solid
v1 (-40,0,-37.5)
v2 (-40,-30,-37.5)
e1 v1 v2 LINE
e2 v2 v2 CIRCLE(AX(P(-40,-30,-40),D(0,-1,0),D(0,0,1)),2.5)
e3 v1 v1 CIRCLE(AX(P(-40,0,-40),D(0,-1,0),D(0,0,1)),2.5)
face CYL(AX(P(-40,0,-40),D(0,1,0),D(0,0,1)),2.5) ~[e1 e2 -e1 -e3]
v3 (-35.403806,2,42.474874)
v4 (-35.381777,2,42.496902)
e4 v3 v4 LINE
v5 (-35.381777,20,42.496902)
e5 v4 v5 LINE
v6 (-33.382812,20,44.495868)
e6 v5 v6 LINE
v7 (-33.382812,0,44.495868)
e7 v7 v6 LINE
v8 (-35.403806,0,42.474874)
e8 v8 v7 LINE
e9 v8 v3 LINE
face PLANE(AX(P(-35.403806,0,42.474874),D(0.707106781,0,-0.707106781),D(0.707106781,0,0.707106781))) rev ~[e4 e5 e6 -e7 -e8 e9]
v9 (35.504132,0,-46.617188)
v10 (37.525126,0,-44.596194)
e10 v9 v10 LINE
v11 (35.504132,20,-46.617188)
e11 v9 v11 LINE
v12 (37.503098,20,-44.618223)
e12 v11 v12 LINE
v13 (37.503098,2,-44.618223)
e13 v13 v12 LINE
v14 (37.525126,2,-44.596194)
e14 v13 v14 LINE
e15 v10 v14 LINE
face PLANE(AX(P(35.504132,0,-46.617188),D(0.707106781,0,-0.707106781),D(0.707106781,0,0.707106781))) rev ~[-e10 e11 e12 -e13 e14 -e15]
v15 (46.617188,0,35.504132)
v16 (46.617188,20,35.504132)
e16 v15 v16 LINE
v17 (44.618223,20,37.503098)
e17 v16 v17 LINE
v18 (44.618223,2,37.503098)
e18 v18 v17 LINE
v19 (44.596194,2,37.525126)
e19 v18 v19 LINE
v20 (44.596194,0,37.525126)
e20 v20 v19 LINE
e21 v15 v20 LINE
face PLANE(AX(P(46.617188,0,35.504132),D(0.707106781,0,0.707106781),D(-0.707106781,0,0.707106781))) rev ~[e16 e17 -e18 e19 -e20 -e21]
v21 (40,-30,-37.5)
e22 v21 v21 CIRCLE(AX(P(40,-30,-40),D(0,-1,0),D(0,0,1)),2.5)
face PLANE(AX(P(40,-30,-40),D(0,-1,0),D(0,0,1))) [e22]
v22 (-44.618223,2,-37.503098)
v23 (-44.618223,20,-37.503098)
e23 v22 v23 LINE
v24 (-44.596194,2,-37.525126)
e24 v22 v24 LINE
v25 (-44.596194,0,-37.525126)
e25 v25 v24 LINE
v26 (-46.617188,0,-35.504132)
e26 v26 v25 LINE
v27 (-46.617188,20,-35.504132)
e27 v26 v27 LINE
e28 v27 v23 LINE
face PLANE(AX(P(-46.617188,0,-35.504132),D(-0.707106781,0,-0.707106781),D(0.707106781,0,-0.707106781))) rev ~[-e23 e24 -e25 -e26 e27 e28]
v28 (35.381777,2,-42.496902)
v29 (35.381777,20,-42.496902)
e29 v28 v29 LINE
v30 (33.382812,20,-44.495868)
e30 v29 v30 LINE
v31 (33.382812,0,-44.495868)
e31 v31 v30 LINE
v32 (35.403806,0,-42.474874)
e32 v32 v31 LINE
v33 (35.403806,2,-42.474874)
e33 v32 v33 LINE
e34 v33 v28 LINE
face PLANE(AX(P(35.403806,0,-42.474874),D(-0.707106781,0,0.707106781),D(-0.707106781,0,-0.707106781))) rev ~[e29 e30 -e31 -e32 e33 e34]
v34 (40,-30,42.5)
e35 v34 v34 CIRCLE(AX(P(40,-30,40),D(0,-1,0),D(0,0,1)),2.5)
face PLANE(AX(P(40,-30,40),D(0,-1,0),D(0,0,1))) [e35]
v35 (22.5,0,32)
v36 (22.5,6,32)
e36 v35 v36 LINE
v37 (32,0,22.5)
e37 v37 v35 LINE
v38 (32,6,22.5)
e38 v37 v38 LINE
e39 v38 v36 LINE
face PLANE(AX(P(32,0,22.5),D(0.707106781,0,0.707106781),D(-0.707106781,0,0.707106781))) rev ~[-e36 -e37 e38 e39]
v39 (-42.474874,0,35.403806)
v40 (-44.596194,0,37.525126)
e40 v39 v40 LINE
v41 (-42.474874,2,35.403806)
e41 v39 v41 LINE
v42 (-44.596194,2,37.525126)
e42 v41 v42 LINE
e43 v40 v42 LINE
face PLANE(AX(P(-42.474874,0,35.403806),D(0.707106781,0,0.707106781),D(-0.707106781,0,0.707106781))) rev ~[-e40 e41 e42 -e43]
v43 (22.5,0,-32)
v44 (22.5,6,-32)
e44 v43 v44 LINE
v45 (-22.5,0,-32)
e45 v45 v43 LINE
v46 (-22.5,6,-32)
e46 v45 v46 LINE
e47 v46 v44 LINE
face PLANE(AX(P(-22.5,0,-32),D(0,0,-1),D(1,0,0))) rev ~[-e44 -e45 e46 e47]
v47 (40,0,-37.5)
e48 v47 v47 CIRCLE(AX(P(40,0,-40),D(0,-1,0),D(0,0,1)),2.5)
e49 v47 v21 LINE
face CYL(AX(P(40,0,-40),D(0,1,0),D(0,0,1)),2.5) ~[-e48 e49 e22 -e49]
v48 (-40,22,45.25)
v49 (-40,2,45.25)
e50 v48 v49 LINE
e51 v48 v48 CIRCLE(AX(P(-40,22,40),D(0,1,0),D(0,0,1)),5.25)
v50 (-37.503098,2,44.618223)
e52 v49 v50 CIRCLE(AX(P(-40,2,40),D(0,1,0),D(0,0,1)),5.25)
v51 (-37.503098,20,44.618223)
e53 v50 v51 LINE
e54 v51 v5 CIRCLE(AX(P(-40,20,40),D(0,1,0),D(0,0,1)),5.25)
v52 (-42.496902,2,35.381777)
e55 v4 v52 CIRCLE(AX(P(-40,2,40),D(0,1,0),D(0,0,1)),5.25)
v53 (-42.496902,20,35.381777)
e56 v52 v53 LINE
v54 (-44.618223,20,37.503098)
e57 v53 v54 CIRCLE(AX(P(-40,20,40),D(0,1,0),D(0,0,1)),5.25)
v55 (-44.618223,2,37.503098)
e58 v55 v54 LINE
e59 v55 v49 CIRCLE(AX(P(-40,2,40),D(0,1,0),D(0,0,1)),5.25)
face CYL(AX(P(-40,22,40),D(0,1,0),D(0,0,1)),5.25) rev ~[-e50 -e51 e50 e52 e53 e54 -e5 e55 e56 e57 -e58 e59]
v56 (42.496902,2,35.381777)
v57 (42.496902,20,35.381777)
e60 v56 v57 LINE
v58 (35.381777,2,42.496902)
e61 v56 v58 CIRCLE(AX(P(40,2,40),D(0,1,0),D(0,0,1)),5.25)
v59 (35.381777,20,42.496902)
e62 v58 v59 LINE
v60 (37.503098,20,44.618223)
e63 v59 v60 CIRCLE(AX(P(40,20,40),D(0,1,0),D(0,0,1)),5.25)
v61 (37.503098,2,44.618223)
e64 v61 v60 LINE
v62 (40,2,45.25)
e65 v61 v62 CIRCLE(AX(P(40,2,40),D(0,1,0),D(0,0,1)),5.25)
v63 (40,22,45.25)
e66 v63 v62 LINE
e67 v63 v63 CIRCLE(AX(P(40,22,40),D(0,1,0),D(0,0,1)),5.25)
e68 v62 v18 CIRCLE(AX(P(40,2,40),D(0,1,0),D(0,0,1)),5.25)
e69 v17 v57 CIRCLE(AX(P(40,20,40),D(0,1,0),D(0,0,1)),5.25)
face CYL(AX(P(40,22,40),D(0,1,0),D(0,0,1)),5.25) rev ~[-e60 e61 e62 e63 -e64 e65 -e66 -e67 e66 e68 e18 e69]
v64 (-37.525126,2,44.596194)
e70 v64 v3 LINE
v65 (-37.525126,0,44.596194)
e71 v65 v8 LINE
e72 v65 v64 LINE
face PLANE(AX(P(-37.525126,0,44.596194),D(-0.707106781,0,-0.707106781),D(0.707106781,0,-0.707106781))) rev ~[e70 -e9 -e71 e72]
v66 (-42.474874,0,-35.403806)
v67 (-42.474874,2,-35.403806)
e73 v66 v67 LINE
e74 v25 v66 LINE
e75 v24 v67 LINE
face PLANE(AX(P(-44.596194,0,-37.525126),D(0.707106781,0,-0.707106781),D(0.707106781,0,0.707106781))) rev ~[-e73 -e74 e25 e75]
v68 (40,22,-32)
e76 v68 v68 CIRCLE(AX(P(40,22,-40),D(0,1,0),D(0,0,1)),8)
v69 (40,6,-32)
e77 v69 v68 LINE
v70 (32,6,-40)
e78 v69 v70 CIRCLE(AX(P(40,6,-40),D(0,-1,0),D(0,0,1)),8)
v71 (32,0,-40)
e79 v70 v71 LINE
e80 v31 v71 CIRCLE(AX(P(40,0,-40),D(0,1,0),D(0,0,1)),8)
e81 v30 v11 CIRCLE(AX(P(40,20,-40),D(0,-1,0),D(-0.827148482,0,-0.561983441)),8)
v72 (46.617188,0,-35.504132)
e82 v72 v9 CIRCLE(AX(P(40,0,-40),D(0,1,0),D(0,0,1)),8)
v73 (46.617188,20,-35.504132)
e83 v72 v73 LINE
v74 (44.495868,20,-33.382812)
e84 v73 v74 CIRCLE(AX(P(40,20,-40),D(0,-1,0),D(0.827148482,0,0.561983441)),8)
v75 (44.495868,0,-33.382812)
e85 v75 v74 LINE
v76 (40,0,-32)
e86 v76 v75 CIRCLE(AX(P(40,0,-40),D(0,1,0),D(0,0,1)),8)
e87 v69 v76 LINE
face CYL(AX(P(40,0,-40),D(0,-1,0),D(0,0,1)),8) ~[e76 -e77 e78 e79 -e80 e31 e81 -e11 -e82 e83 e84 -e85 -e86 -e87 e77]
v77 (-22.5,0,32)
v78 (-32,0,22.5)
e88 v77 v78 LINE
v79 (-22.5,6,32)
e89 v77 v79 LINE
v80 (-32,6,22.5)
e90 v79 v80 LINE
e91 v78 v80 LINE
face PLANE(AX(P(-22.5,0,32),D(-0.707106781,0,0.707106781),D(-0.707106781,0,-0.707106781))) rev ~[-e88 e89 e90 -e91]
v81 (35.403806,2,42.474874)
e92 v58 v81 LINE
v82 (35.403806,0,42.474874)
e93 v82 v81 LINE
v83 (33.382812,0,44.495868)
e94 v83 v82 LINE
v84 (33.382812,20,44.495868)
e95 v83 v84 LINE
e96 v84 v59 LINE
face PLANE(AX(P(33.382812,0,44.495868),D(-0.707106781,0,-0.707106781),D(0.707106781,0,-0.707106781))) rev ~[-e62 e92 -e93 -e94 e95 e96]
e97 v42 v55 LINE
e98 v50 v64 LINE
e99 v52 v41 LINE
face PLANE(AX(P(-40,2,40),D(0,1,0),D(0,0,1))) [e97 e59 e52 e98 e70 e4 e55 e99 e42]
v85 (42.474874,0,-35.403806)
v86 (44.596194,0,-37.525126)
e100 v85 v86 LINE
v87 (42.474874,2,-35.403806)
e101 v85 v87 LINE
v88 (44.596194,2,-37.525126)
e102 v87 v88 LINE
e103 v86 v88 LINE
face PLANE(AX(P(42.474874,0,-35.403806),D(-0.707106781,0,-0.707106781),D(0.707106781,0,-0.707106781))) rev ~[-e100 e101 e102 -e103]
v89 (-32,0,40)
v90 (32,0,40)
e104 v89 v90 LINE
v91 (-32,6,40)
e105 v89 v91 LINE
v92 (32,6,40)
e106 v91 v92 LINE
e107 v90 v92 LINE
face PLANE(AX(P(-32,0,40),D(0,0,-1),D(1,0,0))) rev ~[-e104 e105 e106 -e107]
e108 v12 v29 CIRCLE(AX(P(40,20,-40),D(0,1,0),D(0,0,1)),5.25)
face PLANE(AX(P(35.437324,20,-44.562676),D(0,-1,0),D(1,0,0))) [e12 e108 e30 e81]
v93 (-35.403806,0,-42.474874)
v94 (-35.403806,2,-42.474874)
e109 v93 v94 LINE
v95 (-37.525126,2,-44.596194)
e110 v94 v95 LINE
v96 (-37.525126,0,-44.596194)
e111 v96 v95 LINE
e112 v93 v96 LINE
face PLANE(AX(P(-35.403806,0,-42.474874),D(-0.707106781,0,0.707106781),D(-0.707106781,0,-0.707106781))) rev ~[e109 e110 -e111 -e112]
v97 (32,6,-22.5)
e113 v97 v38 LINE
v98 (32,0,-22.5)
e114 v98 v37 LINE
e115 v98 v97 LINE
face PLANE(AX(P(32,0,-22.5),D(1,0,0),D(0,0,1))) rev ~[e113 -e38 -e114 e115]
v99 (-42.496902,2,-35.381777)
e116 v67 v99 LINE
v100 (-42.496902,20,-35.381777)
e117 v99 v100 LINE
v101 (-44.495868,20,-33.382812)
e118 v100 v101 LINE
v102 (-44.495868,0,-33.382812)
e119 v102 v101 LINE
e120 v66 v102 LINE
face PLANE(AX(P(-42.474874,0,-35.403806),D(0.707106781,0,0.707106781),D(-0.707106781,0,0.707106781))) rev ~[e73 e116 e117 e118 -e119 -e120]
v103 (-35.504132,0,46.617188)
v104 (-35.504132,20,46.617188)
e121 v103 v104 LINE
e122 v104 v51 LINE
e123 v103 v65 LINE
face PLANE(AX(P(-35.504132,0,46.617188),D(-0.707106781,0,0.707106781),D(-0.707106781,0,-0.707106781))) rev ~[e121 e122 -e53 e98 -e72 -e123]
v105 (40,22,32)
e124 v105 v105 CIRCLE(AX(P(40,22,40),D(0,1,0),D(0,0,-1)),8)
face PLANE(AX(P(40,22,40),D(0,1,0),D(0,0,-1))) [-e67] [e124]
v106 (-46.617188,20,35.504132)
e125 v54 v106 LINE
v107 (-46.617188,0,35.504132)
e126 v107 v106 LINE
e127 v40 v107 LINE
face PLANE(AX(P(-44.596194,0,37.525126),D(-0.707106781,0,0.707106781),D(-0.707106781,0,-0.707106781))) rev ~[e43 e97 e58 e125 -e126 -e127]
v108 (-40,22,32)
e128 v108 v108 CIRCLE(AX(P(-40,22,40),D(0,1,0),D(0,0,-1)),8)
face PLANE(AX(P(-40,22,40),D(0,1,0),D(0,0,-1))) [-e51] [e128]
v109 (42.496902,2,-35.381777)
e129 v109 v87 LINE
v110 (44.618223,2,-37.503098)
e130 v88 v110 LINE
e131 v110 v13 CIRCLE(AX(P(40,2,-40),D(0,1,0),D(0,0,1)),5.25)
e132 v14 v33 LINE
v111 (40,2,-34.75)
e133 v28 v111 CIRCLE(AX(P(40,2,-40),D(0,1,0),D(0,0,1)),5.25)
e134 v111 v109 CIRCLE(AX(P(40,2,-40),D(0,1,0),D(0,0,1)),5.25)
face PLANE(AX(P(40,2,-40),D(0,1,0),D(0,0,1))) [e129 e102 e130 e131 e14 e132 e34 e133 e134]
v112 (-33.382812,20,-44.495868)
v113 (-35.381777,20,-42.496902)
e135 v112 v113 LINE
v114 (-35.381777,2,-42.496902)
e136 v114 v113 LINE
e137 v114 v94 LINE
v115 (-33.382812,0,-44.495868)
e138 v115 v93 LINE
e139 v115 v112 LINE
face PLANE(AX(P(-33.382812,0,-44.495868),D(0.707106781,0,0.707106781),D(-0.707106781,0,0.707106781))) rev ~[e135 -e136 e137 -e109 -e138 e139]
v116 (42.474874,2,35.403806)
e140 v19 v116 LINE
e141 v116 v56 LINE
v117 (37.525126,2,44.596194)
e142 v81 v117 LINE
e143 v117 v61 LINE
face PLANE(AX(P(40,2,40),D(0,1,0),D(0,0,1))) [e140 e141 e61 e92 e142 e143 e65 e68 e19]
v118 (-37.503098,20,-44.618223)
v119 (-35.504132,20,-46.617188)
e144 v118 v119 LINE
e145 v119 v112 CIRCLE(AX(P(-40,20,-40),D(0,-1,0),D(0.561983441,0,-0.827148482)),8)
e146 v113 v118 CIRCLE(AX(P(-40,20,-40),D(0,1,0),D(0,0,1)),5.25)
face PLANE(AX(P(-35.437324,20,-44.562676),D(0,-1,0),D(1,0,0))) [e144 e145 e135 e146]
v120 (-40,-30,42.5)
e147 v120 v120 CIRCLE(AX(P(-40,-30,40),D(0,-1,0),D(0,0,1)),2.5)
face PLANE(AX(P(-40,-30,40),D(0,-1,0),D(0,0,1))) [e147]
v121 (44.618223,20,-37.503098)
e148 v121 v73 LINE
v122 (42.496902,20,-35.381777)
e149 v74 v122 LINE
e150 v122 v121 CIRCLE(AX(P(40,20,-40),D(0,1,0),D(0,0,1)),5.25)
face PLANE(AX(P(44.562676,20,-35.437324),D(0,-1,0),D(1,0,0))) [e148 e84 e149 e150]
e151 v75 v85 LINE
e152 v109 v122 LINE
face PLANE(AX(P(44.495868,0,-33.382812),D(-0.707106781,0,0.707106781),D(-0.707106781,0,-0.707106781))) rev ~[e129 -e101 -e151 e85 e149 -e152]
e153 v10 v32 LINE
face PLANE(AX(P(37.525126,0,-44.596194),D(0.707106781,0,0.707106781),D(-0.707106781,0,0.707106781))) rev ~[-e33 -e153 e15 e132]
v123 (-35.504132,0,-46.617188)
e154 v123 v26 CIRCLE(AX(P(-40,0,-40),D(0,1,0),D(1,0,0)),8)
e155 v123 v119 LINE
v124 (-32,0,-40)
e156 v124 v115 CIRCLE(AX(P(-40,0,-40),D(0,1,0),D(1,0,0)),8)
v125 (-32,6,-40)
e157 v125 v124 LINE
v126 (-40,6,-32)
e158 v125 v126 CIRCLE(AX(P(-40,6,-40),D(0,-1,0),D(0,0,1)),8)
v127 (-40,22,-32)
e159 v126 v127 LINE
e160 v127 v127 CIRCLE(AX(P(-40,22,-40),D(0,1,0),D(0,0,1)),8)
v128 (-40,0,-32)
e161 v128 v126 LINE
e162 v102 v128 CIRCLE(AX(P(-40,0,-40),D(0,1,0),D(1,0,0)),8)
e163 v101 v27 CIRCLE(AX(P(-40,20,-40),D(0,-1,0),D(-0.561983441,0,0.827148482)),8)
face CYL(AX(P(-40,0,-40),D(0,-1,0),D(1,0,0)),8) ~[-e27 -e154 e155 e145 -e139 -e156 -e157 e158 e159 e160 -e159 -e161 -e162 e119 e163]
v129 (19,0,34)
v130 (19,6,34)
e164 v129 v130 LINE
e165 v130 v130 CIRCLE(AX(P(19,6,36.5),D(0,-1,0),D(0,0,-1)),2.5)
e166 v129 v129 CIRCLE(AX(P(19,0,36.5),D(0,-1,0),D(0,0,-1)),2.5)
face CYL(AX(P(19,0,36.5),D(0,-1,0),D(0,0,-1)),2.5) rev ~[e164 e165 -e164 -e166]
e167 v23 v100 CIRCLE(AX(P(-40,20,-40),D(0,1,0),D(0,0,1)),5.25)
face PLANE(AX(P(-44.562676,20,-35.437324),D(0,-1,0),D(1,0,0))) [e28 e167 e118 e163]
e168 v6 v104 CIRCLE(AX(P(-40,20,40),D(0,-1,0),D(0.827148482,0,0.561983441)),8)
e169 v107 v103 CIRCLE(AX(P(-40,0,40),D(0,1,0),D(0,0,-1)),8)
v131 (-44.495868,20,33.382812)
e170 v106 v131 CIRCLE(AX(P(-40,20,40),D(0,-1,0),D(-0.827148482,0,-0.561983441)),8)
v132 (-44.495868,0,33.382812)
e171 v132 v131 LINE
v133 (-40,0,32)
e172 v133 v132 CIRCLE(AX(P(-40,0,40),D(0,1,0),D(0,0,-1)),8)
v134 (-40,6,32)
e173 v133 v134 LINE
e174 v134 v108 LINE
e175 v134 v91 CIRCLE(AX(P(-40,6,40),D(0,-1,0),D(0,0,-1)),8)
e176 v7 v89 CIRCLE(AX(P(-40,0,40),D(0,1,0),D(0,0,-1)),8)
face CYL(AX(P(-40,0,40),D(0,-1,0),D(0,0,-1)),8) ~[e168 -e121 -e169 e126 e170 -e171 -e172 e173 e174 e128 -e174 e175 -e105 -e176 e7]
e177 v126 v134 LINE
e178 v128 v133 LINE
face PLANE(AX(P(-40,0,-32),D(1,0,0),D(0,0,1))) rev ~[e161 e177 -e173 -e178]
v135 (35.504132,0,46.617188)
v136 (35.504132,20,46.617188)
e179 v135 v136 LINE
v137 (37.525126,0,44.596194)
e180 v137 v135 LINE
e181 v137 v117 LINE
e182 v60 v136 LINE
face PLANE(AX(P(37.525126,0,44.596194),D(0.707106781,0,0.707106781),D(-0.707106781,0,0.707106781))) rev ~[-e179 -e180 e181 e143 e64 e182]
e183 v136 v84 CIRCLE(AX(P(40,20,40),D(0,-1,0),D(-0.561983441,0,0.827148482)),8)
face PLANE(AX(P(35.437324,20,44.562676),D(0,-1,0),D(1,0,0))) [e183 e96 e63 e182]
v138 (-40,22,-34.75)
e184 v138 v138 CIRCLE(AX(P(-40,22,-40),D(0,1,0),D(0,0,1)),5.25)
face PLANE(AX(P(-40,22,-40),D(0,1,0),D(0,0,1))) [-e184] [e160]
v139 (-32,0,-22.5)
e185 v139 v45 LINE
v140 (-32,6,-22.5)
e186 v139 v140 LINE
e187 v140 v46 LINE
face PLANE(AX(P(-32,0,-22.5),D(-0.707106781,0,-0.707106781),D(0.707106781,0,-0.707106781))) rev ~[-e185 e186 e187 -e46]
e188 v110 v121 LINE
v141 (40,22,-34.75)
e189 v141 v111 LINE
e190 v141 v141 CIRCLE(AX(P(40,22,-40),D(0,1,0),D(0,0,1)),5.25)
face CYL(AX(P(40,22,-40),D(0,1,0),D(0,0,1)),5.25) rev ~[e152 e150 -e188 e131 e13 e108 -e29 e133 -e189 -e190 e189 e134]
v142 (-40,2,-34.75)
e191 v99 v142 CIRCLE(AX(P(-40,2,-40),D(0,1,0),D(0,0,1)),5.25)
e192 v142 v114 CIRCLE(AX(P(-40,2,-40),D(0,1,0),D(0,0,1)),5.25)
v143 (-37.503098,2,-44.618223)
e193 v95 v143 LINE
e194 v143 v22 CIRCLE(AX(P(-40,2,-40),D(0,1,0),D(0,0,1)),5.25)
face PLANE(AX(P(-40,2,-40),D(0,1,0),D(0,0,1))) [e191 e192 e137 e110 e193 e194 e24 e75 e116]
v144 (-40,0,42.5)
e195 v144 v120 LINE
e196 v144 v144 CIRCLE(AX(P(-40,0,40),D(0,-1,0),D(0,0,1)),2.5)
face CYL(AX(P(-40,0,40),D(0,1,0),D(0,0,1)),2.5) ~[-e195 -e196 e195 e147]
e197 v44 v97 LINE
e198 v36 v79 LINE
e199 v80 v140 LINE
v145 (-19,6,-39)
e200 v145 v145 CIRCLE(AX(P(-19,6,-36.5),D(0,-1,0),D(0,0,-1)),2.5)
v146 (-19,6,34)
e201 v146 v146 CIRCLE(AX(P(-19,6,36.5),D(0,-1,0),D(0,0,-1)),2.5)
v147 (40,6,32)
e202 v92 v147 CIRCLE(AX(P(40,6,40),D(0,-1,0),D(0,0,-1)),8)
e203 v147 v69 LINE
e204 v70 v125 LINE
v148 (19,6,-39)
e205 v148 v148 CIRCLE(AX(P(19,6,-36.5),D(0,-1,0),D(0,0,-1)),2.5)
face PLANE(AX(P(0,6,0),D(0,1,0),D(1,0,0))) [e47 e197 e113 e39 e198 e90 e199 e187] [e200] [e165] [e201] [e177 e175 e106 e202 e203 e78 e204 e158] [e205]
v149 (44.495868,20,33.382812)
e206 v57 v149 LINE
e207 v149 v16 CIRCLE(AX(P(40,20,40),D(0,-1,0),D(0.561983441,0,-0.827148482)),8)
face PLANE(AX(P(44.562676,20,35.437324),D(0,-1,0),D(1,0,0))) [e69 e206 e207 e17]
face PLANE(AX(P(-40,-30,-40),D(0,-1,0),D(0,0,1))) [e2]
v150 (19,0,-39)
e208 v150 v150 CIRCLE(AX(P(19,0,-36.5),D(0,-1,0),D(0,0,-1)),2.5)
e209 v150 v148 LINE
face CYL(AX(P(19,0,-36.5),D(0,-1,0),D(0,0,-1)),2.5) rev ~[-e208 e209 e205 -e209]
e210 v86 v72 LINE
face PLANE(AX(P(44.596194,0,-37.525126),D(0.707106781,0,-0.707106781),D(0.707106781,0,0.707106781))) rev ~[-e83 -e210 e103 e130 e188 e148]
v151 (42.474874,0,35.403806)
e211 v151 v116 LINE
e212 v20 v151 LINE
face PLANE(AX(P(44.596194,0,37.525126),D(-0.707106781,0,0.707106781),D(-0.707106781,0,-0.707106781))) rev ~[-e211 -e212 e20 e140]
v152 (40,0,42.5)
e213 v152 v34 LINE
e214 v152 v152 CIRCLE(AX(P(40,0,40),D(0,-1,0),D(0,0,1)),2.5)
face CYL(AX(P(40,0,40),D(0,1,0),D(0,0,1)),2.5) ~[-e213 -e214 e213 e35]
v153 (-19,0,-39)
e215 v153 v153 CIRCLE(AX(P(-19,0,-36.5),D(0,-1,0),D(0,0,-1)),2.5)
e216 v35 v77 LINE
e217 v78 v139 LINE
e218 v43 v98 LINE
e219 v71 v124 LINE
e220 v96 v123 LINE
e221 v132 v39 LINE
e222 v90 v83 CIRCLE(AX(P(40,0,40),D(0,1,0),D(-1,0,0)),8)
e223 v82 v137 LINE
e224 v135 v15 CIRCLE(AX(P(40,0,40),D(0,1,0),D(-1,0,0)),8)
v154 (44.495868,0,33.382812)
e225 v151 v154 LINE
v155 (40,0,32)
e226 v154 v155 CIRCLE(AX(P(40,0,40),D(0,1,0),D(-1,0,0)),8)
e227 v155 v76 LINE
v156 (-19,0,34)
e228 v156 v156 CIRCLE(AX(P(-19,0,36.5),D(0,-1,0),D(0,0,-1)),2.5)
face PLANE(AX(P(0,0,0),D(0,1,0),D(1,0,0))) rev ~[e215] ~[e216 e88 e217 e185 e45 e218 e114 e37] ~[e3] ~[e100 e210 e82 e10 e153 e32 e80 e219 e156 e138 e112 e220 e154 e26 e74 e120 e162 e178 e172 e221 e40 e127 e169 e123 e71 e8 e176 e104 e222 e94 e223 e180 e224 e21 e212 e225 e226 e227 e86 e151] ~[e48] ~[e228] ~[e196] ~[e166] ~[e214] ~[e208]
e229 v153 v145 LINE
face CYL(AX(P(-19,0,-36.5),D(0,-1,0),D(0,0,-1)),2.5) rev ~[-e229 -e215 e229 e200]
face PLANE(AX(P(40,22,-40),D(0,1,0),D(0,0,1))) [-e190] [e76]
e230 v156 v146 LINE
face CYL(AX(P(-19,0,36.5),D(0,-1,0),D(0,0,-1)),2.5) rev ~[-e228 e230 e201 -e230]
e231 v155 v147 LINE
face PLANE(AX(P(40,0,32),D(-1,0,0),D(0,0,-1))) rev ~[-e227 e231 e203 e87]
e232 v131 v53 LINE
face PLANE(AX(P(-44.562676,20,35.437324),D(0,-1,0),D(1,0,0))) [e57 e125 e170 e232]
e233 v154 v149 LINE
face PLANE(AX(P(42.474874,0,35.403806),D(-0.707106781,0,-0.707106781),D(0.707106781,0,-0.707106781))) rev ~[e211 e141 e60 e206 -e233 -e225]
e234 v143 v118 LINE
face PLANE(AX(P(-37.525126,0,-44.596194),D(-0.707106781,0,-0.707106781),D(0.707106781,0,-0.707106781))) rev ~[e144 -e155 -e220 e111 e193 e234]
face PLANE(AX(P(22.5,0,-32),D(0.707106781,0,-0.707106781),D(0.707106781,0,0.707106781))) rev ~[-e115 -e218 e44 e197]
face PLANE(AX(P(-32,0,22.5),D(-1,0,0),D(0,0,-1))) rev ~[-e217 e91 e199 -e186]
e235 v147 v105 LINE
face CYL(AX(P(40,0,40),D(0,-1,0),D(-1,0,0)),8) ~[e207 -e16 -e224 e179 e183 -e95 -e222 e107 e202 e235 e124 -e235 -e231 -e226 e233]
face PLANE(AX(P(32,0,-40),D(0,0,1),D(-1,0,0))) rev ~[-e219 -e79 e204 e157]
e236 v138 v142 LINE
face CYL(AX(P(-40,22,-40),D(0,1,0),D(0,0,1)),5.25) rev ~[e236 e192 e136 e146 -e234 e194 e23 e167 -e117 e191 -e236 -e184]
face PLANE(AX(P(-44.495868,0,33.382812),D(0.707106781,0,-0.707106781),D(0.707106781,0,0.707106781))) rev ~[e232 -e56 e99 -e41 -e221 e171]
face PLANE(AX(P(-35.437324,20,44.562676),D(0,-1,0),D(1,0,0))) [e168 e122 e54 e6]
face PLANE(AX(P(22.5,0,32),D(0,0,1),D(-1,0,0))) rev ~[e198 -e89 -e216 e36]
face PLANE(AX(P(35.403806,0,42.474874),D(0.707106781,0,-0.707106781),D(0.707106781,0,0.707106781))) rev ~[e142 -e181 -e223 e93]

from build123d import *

# Parameters (mm, degrees)
BOSS_EXTRUDE1_DEPTH      = 6
SKETCH2_R                = 2.5
CUT_EXTRUDE1_DEPTH       = 69.14690015
BOSS_EXTRUDE2_DEPTH      = 16
BOSS_EXTRUDE2_DEPTH_BACK = 4
SKETCH4_R                = 8
CUT_EXTRUDE2_DEPTH       = 20
SKETCH7_R                = 5.25
CUT_EXTRUDE3_DEPTH       = 20
SKETCH8_R                = 2.5
BOSS_EXTRUDE3_DEPTH      = 30


with BuildPart() as part:
    # Sketch1 → Boss-Extrude1 (new body)
    with BuildSketch(Plane(origin=(0, 0, 0), x_dir=(1, 0, 0), z_dir=(0, 1, 0))):
        with BuildLine():
            Line((-32, -40), (32, -40))
            ThreePointArc((32, -40), (45.656854249, -45.656854249), (40, -32))
            Line((40, -32), (40, 32))
            ThreePointArc((40, 32), (45.656854249, 45.656854249), (32, 40))
            Line((32, 40), (-32, 40))
            ThreePointArc((-32, 40), (-45.656854249, 45.656854249), (-40, 32))
            Line((-40, 32), (-40, -32))
            ThreePointArc((-40, -32), (-45.656854249, -45.656854249), (-32, -40))
        make_face()
        Polygon((-22.5, 32), (22.5, 32), (32, 22.5), (32, -22.5), (22.5, -32), (-22.5, -32), (-32, -22.5), (-32, 22.5), align=None, mode=Mode.SUBTRACT)
    extrude(amount=BOSS_EXTRUDE1_DEPTH)

    # Sketch2 → Cut-Extrude1 (cut, through all)
    with BuildSketch(Plane.XZ):
        with Locations(Location((-19, -36.5, 0), (0, 0, 270))):
            Circle(SKETCH2_R)
        with Locations(Location((19, -36.5, 0), (0, 0, 270))):
            Circle(SKETCH2_R)
        with Locations(Location((19, 36.5, 0), (0, 0, 270))):
            Circle(SKETCH2_R)
        with Locations(Location((-19, 36.5, 0), (0, 0, 270))):
            Circle(SKETCH2_R)
    extrude(amount=-CUT_EXTRUDE1_DEPTH, mode=Mode.SUBTRACT)

    # Sketch4 → Boss-Extrude2 (add, two sides: drawn at the far end of the back side and taken through both)
    with BuildSketch(Plane(origin=(0, 6, 0), x_dir=(1, 0, 0), z_dir=(0, 1, 0)).offset(-BOSS_EXTRUDE2_DEPTH_BACK)):
        with Locations(Location((-40, 40, 0), (0, 0, 270))):
            Circle(SKETCH4_R)
        with Locations(Location((40, 40, 0), (0, 0, 270))):
            Circle(SKETCH4_R)
        with Locations(Location((40, -40, 0), (0, 0, 90))):
            Circle(SKETCH4_R)
        with Locations(Location((-40, -40, 0), (0, 0, 90))):
            Circle(SKETCH4_R)
    extrude(amount=BOSS_EXTRUDE2_DEPTH + BOSS_EXTRUDE2_DEPTH_BACK)

    # Sketch5 → Cut-Extrude2 (cut)
    with BuildSketch(Plane.XZ):
        with BuildLine():
            Line((-35.504132479, 46.617187865), (-37.525126266, 44.596194078))
            Line((-37.525126266, 44.596194078), (-35.403805922, 42.474873734))
            Line((-35.403805922, 42.474873734), (-33.382812135, 44.495867521))
            ThreePointArc((-33.382812135, 44.495867521), (-34.343145751, 45.656854249), (-35.504132479, 46.617187865))
        make_face()
        with BuildLine():
            Line((-44.596194078, 37.525126266), (-46.617187865, 35.504132479))
            ThreePointArc((-46.617187865, 35.504132479), (-45.656854249, 34.343145751), (-44.495867521, 33.382812135))
            Line((-44.495867521, 33.382812135), (-42.474873734, 35.403805922))
            Line((-42.474873734, 35.403805922), (-44.596194078, 37.525126266))
        make_face()
        with BuildLine():
            Line((35.403805922, 42.474873734), (37.525126266, 44.596194078))
            Line((37.525126266, 44.596194078), (35.504132479, 46.617187865))
            ThreePointArc((35.504132479, 46.617187865), (34.343145751, 45.656854249), (33.382812135, 44.495867521))
            Line((33.382812135, 44.495867521), (35.403805922, 42.474873734))
        make_face()
        with BuildLine():
            ThreePointArc((44.495867521, 33.382812135), (45.656854249, 34.343145751), (46.617187865, 35.504132479))
            Line((46.617187865, 35.504132479), (44.596194078, 37.525126266))
            Line((44.596194078, 37.525126266), (42.474873734, 35.403805922))
            Line((42.474873734, 35.403805922), (44.495867521, 33.382812135))
        make_face()
        with BuildLine():
            Line((44.596194078, -37.525126266), (46.617187865, -35.504132479))
            ThreePointArc((46.617187865, -35.504132479), (45.656854249, -34.343145751), (44.495867521, -33.382812135))
            Line((44.495867521, -33.382812135), (42.474873734, -35.403805922))
            Line((42.474873734, -35.403805922), (44.596194078, -37.525126266))
        make_face()
        with BuildLine():
            Line((35.504132479, -46.617187865), (37.525126266, -44.596194078))
            Line((37.525126266, -44.596194078), (35.403805922, -42.474873734))
            Line((35.403805922, -42.474873734), (33.382812135, -44.495867521))
            ThreePointArc((33.382812135, -44.495867521), (34.343145751, -45.656854249), (35.504132479, -46.617187865))
        make_face()
        with BuildLine():
            ThreePointArc((-44.495867521, -33.382812135), (-45.656854249, -34.343145751), (-46.617187865, -35.504132479))
            Line((-46.617187865, -35.504132479), (-44.596194078, -37.525126266))
            Line((-44.596194078, -37.525126266), (-42.474873734, -35.403805922))
            Line((-42.474873734, -35.403805922), (-44.495867521, -33.382812135))
        make_face()
        with BuildLine():
            Line((-35.403805922, -42.474873734), (-37.525126266, -44.596194078))
            Line((-37.525126266, -44.596194078), (-35.504132479, -46.617187865))
            ThreePointArc((-35.504132479, -46.617187865), (-34.343145751, -45.656854249), (-33.382812135, -44.495867521))
            Line((-33.382812135, -44.495867521), (-35.403805922, -42.474873734))
        make_face()
    extrude(amount=-CUT_EXTRUDE2_DEPTH, mode=Mode.SUBTRACT)

    # Sketch7 → Cut-Extrude3 (cut)
    with BuildSketch(Plane(origin=(0, 22, 0), x_dir=(1, 0, 0), z_dir=(0, 1, 0))):
        with Locations(Location((40, 40, 0), (0, 0, 270))):
            Circle(SKETCH7_R)
        with Locations(Location((40, -40, 0), (0, 0, 270))):
            Circle(SKETCH7_R)
        with Locations(Location((-40, -40, 0), (0, 0, 270))):
            Circle(SKETCH7_R)
        with Locations(Location((-40, 40, 0), (0, 0, 270))):
            Circle(SKETCH7_R)
    extrude(amount=-CUT_EXTRUDE3_DEPTH, mode=Mode.SUBTRACT)

    # Sketch8 → Boss-Extrude3 (add)
    with BuildSketch(Plane.XZ):
        with Locations(Location((-40, 40, 0), (0, 0, 90))):
            Circle(SKETCH8_R)
        with Locations(Location((40, 40, 0), (0, 0, 90))):
            Circle(SKETCH8_R)
        with Locations(Location((40, -40, 0), (0, 0, 90))):
            Circle(SKETCH8_R)
        with Locations(Location((-40, -40, 0), (0, 0, 90))):
            Circle(SKETCH8_R)
    extrude(amount=BOSS_EXTRUDE3_DEPTH)


solid = part.part
